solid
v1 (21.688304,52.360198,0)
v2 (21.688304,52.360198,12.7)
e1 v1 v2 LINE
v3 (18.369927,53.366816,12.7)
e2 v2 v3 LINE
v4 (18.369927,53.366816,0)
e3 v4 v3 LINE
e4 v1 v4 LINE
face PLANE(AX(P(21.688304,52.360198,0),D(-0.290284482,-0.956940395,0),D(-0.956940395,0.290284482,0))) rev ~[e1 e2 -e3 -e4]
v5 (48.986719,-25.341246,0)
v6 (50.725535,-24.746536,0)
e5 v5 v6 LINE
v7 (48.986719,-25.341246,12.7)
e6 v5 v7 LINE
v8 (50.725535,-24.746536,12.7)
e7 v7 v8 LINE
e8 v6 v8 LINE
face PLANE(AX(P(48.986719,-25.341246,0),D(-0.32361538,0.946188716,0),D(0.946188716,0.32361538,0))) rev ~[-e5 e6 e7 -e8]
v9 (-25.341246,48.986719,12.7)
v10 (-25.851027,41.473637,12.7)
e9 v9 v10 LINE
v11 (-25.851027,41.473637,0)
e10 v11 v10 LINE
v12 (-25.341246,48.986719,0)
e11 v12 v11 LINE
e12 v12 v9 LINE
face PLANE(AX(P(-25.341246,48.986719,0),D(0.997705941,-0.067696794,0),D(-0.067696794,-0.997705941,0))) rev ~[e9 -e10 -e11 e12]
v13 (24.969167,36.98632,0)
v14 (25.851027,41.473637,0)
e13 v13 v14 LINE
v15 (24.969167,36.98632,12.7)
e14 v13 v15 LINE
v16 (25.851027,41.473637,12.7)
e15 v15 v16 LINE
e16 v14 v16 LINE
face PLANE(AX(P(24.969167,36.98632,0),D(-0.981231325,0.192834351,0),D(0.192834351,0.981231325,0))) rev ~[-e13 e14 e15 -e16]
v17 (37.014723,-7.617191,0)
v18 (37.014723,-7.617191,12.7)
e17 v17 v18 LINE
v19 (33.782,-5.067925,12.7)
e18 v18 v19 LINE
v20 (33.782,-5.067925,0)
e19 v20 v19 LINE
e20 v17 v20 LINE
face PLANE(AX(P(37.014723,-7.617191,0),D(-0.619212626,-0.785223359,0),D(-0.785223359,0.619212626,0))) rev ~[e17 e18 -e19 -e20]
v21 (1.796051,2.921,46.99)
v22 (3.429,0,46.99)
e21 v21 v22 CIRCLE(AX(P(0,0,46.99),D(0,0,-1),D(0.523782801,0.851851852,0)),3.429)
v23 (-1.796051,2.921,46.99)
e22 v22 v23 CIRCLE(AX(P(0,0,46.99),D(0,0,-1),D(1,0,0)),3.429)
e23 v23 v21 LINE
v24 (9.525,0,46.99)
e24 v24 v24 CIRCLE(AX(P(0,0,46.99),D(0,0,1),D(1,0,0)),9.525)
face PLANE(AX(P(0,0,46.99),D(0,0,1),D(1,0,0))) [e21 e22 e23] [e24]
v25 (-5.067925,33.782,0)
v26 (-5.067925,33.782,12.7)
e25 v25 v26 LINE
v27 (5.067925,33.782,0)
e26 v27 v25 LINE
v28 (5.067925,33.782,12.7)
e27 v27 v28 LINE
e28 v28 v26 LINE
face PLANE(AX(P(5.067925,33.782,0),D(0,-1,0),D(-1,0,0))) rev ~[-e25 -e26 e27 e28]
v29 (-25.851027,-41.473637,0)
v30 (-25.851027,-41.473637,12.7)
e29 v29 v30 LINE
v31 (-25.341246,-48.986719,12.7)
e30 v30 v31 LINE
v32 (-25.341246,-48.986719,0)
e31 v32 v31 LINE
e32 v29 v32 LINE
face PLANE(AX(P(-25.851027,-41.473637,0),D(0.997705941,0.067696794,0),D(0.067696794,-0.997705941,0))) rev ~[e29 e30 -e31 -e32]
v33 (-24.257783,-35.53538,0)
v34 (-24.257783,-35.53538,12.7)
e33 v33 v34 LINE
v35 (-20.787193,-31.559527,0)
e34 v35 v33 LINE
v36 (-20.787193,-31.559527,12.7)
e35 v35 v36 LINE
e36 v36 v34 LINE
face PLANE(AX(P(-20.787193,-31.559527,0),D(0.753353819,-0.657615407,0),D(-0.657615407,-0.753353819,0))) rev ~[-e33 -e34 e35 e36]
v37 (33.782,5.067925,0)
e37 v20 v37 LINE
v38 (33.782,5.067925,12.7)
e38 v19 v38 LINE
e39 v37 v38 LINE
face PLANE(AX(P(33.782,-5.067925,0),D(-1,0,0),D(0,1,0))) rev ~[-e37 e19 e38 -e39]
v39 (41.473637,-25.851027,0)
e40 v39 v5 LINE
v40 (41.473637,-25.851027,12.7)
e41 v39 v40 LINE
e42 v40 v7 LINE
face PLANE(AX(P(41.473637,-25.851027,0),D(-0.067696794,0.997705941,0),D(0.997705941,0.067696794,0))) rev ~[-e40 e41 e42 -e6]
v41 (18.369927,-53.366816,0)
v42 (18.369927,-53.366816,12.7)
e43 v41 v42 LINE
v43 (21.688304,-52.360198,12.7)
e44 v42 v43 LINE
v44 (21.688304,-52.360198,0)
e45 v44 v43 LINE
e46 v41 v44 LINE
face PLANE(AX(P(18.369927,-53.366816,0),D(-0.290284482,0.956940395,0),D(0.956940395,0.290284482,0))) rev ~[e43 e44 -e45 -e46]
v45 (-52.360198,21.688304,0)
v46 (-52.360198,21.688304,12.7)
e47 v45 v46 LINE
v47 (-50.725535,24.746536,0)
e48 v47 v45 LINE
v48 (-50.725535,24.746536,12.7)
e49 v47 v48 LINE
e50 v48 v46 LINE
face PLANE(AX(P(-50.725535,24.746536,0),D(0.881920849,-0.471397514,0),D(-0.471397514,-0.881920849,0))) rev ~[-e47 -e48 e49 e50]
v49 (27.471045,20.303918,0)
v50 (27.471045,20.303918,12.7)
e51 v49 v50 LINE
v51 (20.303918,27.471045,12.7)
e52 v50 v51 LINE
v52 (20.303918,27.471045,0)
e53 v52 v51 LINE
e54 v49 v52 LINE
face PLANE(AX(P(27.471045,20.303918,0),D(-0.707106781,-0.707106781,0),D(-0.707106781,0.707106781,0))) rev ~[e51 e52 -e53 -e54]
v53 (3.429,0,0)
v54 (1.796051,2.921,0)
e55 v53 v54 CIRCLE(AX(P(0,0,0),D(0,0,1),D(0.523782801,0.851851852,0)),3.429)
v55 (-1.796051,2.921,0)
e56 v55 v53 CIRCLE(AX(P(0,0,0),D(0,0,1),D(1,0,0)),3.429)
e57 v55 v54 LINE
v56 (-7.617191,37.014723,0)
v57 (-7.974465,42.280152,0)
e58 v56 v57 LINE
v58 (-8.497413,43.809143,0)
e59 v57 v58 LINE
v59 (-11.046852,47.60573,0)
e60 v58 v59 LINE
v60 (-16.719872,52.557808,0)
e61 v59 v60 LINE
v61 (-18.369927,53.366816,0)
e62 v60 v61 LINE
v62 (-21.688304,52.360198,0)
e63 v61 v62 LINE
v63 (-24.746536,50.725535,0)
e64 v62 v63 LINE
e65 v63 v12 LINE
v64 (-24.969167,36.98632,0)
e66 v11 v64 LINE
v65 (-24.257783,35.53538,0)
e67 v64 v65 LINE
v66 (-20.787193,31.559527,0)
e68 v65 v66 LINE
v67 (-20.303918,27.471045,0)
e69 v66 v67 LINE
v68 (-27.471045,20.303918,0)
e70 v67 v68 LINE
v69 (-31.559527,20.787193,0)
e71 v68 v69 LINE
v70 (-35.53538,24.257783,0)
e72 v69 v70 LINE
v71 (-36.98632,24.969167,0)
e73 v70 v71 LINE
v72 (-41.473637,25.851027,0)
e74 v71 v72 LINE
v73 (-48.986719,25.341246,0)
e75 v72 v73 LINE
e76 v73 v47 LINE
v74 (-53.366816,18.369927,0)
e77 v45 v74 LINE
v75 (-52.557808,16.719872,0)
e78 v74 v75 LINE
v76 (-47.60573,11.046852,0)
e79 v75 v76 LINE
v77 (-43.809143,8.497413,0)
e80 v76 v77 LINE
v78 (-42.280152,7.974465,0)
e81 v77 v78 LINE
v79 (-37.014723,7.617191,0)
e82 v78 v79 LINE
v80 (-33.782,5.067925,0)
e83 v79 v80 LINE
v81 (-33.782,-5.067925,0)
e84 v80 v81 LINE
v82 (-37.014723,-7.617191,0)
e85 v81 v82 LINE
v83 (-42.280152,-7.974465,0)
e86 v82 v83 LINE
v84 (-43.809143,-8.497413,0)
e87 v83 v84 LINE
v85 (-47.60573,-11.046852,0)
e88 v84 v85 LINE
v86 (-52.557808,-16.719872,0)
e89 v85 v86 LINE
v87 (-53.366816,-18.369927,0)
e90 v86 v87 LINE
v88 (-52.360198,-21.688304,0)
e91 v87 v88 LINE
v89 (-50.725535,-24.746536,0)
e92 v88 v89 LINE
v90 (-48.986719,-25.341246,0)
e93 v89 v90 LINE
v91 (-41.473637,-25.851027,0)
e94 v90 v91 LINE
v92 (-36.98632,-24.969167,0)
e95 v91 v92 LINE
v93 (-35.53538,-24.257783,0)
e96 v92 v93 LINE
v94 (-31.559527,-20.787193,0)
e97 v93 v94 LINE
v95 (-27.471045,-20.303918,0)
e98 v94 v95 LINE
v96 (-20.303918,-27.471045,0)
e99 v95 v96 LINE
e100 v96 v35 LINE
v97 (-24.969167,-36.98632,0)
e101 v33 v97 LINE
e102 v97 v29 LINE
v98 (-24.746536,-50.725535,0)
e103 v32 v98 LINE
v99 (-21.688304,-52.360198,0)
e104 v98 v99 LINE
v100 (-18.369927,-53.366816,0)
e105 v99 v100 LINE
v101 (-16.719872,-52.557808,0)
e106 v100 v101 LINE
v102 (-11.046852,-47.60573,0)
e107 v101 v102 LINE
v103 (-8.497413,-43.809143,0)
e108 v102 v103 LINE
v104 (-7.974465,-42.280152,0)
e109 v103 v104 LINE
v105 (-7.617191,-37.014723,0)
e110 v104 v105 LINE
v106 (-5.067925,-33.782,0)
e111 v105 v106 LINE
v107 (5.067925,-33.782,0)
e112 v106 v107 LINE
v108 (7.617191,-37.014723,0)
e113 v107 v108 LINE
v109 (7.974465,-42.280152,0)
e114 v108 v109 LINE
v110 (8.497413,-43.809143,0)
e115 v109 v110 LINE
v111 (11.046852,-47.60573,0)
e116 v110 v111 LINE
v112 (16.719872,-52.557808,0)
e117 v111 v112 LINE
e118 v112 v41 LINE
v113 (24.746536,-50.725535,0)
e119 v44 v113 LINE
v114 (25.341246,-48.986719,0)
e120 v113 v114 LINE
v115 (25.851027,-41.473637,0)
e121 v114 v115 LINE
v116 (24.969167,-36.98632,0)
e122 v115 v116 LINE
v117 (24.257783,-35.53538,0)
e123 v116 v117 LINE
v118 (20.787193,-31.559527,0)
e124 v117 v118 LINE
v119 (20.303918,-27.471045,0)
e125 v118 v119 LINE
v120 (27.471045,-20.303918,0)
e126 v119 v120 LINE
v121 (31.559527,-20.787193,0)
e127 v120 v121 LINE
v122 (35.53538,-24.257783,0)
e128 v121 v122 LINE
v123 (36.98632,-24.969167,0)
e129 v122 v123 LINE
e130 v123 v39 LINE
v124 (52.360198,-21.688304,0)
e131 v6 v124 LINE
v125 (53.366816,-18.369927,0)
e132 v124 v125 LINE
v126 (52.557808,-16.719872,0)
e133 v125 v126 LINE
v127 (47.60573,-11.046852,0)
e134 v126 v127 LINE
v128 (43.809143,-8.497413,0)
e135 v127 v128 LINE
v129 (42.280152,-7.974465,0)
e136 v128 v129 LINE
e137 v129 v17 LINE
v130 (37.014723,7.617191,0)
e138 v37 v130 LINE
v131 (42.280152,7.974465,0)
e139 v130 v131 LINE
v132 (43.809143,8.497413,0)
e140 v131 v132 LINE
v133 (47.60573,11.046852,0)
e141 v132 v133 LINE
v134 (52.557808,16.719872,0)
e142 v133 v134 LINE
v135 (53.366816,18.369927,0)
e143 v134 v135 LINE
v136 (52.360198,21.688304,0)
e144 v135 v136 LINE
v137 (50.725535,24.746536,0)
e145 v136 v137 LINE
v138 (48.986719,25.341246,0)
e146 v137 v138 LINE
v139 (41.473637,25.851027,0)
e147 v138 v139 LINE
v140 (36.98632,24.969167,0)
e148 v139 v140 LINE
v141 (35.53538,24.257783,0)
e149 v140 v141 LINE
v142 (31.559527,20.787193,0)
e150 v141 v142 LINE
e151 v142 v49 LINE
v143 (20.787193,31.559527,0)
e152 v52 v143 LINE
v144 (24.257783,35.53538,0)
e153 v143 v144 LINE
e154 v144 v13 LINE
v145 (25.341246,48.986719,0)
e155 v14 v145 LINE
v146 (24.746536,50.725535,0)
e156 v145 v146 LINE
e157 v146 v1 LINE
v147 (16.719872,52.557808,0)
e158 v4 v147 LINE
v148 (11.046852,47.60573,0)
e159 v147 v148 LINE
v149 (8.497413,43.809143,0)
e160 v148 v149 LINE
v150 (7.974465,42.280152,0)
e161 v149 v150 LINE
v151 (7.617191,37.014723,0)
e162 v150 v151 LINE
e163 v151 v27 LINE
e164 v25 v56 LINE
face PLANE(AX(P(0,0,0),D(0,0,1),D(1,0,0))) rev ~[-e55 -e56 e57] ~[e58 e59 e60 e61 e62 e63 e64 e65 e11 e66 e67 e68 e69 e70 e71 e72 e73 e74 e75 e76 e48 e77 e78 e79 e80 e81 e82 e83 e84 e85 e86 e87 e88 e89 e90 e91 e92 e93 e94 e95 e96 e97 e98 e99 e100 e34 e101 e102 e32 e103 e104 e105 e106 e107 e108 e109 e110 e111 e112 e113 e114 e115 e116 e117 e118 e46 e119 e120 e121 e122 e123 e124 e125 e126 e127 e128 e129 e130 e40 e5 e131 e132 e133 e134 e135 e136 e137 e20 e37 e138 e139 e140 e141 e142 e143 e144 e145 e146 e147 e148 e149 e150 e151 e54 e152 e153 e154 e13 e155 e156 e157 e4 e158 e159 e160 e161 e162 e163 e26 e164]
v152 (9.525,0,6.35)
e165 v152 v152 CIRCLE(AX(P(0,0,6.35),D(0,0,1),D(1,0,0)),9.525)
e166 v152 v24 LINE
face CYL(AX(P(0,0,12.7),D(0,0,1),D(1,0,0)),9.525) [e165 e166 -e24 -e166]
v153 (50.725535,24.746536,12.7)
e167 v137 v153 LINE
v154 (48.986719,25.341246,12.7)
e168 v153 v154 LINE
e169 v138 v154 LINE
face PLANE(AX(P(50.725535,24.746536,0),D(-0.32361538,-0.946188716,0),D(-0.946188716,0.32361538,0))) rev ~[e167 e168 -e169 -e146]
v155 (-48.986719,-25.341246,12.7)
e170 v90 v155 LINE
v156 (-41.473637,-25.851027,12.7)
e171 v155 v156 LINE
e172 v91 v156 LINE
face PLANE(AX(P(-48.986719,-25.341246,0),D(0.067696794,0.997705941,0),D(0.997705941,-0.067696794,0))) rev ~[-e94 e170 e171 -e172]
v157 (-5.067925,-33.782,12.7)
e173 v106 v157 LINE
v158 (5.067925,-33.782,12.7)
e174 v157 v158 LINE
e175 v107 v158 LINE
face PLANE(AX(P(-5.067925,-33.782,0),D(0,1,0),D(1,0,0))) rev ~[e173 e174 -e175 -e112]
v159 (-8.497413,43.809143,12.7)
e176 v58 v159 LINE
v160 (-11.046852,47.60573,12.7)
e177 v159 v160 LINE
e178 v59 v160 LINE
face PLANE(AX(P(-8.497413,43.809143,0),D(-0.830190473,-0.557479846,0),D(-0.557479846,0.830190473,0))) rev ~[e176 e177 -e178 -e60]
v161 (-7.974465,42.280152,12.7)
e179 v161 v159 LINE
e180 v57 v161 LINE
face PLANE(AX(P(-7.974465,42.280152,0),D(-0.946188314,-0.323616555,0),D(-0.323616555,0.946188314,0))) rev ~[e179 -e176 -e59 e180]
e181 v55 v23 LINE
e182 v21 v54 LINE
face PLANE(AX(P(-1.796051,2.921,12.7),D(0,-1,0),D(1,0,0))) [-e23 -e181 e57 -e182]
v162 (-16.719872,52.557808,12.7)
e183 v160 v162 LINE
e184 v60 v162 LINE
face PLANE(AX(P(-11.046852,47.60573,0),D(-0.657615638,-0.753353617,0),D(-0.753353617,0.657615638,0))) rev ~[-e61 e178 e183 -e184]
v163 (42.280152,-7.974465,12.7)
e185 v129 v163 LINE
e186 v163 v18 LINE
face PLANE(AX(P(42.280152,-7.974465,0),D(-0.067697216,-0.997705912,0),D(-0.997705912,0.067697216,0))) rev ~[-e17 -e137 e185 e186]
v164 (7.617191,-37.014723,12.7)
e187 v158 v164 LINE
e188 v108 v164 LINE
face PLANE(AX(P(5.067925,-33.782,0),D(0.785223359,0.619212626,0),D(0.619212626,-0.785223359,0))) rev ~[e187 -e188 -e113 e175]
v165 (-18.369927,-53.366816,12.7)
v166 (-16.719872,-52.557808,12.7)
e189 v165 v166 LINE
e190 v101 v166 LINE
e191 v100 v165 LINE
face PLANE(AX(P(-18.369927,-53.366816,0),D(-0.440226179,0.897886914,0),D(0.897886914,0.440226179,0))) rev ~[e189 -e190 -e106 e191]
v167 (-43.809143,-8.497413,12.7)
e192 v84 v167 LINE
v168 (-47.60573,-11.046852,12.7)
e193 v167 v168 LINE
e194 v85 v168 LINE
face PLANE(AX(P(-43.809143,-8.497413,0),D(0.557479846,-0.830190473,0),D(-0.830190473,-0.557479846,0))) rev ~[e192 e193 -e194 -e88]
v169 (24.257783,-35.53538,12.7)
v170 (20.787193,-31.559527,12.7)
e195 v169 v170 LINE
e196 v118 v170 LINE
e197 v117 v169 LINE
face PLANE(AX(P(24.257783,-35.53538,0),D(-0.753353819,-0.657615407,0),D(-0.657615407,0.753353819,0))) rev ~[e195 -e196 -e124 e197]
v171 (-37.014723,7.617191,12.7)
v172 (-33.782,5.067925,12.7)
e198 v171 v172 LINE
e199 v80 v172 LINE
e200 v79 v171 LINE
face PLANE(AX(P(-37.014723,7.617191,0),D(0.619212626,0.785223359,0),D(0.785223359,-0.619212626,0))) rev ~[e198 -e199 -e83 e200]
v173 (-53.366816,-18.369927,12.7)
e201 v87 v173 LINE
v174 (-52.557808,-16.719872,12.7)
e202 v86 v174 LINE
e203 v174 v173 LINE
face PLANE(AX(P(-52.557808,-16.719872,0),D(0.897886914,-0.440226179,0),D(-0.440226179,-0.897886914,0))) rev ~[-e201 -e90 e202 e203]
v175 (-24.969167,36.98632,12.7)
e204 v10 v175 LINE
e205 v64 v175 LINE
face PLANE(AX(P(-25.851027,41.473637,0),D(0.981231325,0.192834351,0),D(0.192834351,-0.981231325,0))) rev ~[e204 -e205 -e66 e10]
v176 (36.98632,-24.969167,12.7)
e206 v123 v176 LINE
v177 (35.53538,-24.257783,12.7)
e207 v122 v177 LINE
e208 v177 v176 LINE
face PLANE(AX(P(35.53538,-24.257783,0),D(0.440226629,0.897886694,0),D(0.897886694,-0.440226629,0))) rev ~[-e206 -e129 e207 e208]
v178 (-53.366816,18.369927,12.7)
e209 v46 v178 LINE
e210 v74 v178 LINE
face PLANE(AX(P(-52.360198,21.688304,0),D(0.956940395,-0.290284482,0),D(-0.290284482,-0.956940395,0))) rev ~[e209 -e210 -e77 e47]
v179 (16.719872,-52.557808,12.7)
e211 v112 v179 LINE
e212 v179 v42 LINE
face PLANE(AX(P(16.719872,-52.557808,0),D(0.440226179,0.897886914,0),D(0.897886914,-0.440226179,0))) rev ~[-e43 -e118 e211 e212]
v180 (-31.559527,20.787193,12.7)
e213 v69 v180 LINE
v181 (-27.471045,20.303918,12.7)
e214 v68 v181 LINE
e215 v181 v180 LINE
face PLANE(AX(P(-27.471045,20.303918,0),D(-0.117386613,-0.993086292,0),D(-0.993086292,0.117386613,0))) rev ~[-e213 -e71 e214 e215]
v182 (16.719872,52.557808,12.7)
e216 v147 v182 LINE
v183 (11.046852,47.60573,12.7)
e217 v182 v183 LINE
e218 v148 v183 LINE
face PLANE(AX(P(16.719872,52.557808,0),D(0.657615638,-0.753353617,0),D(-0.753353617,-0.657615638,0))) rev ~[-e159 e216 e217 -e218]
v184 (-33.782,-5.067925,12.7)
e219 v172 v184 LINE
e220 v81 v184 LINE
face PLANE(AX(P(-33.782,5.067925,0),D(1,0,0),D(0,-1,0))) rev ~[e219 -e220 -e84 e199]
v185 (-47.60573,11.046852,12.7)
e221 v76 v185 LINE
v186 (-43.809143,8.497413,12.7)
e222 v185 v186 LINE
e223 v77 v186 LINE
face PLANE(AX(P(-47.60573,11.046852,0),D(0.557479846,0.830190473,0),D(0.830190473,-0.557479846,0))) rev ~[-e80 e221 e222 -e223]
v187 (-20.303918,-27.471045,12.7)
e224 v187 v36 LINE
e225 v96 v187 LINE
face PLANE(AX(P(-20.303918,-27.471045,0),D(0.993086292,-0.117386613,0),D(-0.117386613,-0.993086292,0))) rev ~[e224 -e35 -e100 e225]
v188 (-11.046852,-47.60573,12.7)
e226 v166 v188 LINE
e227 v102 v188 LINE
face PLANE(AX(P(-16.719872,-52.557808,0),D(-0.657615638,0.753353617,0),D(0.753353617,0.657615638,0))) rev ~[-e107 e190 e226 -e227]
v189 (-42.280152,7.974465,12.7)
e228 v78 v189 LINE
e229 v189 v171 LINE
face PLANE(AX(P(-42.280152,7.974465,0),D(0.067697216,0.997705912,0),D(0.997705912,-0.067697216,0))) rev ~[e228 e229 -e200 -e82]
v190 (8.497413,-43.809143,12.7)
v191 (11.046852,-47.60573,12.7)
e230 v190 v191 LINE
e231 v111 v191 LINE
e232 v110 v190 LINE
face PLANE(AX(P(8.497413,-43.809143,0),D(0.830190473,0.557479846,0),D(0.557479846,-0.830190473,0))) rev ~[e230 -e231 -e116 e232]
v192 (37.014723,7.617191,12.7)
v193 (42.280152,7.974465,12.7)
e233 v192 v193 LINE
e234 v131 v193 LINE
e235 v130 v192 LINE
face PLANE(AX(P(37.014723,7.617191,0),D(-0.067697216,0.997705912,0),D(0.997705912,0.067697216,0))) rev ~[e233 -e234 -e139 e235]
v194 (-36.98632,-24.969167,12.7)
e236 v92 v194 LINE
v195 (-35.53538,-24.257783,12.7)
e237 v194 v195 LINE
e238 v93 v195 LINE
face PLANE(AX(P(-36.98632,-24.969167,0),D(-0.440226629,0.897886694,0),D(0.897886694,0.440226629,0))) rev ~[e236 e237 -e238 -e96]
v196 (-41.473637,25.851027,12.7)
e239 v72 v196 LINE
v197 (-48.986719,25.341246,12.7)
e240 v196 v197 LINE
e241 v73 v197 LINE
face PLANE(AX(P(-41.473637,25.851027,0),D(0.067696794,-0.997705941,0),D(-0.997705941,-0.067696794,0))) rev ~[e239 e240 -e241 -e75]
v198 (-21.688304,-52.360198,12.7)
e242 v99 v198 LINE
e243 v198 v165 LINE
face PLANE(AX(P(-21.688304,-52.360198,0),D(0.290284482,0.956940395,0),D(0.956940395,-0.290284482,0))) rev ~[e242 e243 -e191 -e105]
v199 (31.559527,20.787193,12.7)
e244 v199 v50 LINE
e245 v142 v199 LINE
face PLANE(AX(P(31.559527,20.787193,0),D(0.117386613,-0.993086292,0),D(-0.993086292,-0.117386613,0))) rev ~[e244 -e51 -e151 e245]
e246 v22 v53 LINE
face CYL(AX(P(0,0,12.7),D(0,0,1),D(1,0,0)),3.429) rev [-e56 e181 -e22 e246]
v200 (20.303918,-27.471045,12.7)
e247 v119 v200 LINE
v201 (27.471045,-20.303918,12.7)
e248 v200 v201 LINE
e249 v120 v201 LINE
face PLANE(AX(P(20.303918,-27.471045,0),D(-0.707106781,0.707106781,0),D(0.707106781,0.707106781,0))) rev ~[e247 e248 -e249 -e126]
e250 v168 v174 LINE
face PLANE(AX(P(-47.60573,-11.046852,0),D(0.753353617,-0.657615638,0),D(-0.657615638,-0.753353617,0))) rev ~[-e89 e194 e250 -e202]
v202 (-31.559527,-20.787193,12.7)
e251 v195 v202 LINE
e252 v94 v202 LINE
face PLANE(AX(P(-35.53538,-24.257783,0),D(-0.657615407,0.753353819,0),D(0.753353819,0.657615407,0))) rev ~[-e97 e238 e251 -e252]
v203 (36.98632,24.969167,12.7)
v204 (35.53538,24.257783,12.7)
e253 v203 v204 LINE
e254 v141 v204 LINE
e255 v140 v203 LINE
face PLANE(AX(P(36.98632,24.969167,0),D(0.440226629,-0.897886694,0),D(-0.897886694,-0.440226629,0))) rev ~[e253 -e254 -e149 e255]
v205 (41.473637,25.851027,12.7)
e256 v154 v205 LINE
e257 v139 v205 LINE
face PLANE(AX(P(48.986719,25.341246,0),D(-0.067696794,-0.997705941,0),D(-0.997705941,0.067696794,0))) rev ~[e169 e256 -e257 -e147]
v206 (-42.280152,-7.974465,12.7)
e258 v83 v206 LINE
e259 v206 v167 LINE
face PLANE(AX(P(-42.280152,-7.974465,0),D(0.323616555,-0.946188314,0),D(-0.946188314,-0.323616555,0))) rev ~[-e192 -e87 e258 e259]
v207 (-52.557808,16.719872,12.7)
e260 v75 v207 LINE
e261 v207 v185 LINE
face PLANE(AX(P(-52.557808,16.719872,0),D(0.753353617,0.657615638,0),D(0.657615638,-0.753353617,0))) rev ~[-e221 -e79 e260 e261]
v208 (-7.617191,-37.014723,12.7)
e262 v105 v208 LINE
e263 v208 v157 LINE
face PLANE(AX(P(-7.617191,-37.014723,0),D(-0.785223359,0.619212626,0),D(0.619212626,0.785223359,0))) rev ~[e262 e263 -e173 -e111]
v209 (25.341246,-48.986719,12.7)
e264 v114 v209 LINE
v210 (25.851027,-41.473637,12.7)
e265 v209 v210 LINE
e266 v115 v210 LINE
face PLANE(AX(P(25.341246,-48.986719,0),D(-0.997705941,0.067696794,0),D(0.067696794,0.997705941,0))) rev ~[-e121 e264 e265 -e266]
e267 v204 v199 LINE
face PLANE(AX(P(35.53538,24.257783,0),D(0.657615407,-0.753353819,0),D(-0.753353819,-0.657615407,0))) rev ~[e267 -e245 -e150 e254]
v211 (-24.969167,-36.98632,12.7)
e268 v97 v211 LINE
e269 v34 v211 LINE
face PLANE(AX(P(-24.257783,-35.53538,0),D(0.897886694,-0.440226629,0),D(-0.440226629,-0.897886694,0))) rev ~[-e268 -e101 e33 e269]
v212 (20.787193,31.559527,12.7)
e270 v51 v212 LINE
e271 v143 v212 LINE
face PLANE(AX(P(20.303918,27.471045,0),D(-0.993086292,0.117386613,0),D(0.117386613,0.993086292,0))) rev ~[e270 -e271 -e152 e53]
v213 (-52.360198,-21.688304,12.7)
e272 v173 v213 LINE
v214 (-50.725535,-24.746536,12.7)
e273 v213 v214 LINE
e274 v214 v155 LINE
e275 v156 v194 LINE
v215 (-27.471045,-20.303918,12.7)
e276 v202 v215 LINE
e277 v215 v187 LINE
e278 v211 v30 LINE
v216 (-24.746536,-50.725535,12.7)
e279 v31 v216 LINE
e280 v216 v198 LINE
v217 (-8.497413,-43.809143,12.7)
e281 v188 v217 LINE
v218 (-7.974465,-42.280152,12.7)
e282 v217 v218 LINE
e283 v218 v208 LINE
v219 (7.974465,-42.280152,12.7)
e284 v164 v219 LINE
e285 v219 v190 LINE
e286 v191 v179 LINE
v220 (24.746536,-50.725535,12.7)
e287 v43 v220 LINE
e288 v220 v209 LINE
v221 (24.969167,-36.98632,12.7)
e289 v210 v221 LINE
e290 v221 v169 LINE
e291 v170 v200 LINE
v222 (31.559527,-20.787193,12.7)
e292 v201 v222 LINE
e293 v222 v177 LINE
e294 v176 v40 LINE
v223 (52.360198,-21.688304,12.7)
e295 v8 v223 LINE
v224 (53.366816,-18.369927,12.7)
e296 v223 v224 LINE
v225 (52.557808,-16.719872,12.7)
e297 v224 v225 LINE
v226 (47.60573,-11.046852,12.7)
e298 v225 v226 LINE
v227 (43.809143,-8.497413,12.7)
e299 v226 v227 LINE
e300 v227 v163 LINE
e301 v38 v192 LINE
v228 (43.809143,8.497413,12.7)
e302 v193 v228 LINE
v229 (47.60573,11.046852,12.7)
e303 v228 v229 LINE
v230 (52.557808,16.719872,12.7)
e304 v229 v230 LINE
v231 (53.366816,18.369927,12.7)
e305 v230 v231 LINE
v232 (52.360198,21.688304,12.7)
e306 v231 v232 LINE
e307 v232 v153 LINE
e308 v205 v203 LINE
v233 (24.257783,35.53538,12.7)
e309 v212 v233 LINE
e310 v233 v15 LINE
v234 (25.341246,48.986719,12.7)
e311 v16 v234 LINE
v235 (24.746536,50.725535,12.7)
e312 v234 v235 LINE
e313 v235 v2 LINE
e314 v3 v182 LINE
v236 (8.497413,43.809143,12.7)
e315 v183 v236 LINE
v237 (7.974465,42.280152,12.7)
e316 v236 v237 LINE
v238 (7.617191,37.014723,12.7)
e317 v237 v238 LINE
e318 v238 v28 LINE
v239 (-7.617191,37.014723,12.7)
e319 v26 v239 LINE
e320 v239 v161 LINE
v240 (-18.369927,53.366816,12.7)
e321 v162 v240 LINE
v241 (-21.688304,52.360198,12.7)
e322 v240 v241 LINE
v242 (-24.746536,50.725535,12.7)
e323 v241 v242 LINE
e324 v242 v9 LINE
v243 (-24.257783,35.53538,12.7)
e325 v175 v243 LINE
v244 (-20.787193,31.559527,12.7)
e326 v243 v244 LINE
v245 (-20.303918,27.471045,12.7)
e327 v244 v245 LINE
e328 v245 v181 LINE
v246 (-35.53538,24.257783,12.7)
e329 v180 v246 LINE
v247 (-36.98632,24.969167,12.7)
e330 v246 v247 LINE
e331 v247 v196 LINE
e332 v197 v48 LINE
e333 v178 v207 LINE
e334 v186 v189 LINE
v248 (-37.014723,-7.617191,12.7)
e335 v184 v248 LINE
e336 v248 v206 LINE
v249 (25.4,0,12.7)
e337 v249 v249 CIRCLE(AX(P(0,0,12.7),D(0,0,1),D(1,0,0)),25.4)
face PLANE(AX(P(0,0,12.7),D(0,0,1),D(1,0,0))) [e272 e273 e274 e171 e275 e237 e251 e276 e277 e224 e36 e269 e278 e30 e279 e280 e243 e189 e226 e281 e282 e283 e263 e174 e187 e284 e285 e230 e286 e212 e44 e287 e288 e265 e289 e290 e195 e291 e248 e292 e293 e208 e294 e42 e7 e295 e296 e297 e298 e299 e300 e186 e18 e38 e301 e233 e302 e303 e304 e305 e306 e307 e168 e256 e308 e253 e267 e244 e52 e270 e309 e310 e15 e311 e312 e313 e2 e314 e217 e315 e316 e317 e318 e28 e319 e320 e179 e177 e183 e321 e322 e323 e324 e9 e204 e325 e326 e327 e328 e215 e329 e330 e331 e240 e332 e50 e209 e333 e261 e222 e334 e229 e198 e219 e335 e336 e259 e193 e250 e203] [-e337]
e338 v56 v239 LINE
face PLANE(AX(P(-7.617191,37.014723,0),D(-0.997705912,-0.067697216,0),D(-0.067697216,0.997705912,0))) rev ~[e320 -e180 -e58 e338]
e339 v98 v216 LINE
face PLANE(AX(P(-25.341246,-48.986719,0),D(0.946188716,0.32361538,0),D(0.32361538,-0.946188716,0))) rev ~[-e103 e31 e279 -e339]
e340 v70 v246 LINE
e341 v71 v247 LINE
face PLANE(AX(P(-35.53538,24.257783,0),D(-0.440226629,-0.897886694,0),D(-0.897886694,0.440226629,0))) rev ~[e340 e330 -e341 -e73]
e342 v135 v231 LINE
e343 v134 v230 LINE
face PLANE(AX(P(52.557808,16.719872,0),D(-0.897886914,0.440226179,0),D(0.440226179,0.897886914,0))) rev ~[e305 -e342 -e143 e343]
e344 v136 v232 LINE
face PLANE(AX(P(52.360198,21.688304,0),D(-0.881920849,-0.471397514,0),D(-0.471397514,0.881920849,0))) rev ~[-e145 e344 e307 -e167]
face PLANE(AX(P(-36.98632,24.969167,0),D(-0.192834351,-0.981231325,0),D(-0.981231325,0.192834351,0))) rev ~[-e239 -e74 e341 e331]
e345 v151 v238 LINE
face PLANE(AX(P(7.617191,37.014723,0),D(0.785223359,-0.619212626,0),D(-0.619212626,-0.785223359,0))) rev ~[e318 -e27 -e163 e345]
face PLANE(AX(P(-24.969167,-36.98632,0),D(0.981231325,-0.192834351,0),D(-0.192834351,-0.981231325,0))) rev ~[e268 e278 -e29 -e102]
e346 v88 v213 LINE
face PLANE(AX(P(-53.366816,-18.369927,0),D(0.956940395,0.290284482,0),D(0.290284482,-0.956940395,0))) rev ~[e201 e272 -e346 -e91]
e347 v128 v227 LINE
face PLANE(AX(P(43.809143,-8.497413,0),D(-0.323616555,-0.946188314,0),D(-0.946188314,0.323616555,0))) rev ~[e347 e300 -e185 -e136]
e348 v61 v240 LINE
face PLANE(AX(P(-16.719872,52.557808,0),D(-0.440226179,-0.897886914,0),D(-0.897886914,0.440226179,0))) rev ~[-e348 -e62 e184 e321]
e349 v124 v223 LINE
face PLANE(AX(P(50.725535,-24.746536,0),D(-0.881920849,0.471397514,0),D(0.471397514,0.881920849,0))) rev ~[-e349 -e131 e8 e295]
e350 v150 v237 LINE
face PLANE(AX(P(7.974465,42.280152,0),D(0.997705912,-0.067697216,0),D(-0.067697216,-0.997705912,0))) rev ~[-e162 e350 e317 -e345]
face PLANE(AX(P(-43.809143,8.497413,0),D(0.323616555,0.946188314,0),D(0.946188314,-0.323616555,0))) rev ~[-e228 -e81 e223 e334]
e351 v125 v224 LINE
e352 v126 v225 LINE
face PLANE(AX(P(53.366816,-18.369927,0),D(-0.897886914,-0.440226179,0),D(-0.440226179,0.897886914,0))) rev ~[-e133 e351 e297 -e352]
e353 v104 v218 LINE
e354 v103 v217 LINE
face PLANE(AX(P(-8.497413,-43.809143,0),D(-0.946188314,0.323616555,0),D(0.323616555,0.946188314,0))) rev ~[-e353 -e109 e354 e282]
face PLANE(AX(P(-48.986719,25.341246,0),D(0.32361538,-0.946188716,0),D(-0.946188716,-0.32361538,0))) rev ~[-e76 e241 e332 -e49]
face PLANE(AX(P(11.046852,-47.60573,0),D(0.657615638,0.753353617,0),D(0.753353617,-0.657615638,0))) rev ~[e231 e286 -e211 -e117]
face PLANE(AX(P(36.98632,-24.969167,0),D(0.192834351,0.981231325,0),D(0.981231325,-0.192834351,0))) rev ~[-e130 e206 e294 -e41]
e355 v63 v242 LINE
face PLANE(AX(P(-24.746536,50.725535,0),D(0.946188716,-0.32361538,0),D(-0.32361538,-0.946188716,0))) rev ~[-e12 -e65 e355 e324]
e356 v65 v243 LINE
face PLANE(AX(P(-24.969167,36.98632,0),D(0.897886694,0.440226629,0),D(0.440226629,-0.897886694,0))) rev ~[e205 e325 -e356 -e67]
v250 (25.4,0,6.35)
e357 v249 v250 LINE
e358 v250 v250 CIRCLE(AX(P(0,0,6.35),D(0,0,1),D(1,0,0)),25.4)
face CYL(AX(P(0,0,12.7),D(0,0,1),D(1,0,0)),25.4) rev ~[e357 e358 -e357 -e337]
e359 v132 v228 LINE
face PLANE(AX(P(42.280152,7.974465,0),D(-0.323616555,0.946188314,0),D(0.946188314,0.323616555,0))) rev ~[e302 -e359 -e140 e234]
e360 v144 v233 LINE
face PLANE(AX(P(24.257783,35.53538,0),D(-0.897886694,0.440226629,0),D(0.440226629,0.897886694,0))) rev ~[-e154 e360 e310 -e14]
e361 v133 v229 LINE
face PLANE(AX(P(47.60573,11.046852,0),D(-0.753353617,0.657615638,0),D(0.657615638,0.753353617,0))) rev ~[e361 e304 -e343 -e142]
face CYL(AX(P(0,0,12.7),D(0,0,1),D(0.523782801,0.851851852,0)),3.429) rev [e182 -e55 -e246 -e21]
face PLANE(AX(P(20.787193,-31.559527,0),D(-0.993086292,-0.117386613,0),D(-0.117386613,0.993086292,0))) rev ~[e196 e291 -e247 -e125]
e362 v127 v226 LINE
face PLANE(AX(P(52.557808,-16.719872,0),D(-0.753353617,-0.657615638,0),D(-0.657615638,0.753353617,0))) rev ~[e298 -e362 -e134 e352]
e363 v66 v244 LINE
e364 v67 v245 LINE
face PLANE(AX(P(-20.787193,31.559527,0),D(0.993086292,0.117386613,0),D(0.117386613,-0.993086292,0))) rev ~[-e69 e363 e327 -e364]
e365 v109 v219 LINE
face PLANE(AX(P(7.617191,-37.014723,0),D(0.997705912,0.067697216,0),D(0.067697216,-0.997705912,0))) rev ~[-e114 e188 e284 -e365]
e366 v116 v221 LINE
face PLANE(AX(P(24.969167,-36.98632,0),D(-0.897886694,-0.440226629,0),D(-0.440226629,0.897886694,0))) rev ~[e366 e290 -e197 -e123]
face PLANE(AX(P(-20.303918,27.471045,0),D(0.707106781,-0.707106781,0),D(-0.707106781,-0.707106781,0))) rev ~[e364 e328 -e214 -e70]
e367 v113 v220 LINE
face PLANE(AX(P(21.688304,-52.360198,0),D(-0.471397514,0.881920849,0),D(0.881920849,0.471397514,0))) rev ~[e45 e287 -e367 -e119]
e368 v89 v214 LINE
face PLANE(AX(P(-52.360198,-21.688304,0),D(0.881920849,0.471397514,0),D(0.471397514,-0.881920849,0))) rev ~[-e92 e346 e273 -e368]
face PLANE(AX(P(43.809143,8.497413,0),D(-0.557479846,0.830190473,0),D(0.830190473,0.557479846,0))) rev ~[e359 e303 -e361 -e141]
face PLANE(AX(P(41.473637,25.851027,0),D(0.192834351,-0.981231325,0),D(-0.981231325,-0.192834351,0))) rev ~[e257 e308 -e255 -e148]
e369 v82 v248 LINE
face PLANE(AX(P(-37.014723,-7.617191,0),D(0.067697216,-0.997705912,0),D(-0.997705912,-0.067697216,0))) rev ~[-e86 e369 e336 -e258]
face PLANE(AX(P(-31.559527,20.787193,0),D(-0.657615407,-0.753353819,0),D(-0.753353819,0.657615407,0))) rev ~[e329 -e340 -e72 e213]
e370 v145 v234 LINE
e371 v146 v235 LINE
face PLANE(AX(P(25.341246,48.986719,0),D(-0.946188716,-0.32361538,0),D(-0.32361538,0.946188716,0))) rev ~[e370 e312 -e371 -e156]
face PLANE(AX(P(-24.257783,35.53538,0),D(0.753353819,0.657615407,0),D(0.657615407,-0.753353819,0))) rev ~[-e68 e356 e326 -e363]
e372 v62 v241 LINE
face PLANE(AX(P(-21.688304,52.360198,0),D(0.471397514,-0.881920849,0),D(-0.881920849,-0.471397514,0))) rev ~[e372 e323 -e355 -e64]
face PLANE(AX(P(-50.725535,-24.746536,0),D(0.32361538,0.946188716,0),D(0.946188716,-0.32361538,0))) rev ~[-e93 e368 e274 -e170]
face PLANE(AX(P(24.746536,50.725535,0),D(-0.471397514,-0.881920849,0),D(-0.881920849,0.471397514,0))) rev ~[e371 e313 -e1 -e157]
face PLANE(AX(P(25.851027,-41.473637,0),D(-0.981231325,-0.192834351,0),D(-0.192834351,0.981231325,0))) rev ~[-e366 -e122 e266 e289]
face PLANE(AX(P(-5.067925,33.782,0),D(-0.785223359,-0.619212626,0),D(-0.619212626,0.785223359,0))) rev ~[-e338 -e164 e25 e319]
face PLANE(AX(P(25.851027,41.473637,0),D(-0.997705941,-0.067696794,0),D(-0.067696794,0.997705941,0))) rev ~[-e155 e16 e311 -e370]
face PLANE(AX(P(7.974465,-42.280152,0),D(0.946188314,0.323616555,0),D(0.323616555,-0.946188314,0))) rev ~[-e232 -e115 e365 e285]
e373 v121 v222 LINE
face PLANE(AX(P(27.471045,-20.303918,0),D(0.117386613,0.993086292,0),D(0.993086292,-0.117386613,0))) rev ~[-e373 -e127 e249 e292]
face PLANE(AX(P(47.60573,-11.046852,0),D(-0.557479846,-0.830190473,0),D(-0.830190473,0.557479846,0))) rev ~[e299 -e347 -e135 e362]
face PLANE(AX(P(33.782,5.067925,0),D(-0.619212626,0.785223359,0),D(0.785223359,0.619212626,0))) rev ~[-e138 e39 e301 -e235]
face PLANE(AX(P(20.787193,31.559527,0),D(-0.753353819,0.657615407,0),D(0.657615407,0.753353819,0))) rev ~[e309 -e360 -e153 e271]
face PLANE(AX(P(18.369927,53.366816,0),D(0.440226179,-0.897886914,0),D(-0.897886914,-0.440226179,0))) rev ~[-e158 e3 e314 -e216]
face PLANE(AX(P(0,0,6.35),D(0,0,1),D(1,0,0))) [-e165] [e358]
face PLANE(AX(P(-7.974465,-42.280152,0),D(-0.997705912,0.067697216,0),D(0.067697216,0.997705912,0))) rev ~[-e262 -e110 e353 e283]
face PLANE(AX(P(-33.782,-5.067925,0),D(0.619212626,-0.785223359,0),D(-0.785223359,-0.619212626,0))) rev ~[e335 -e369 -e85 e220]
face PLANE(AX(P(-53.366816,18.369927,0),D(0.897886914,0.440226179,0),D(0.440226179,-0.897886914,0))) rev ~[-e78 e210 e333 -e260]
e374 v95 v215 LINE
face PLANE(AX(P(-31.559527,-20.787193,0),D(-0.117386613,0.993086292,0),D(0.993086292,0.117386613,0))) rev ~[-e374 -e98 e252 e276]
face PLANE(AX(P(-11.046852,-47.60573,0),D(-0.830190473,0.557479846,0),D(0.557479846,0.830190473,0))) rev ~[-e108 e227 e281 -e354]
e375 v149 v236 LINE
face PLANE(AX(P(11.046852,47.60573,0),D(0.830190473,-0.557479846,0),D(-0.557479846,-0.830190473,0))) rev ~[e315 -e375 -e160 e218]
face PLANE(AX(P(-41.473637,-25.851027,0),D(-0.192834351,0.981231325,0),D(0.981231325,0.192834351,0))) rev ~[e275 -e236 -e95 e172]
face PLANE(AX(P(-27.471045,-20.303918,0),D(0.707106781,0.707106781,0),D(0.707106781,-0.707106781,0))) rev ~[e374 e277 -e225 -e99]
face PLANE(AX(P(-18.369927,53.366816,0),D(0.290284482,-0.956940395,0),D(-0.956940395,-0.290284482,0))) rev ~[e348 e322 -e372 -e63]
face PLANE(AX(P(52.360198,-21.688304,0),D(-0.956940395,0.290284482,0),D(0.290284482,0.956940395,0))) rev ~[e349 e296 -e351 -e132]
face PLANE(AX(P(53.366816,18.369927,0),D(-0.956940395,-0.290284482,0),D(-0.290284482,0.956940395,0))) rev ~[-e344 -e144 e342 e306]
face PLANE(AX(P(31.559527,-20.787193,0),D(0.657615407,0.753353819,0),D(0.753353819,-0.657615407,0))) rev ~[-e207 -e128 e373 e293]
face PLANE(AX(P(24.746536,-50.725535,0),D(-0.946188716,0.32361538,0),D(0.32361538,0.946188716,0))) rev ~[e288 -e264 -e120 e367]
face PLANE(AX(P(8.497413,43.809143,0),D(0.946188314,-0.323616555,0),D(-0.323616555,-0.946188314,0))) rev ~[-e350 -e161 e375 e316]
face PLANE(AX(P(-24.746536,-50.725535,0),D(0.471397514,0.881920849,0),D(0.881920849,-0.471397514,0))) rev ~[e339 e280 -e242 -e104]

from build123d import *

# Parameters (mm, degrees)
F1_DEPTH = 12.7
F2_R     = 9.525
F3_DEPTH = 34.29
F4_DEPTH = 25.4
F2_R_2   = 25.4
F5_DEPTH = 6.35


with BuildPart() as f1:
    # F0 (on Top) → F1 (new body)
    with BuildSketch(Plane.XY):
        Polygon((-48.986719159, 25.3412460777), (-50.7255351294, 24.7465363945), (-52.3601977854, 21.688304154), (-53.366815822, 18.3699267661), (-52.5578082129, 16.719871907), (-47.6057296253, 11.0468524364), (-43.80914346, 8.4974130761), (-42.2801519731, 7.9744654227), (-37.0147232049, 7.6171909331), (-33.782, 5.0679251692), (-33.782, -5.0679251692), (-37.0147232049, -7.6171909331), (-42.2801519731, -7.9744654227), (-43.80914346, -8.4974130761), (-47.6057296253, -11.0468524364), (-52.5578082129, -16.719871907), (-53.366815822, -18.3699267661), (-52.3601977854, -21.688304154), (-50.7255351294, -24.7465363945), (-48.986719159, -25.3412460777), (-41.4736370284, -25.8510271212), (-36.9863201834, -24.9691669416), (-35.5353802528, -24.2577827562), (-31.559527, -20.7871925925), (-27.4710453735, -20.303918365), (-20.303918365, -27.4710453735), (-20.7871925925, -31.559527), (-24.2577827562, -35.5353802528), (-24.9691669416, -36.9863201834), (-25.8510271212, -41.4736370284), (-25.3412460777, -48.986719159), (-24.7465363945, -50.7255351294), (-21.688304154, -52.3601977854), (-18.3699267661, -53.366815822), (-16.719871907, -52.5578082129), (-11.0468524364, -47.6057296253), (-8.4974130761, -43.80914346), (-7.9744654227, -42.2801519731), (-7.6171909331, -37.0147232049), (-5.0679251692, -33.782), (5.0679251692, -33.782), (7.6171909331, -37.0147232049), (7.9744654227, -42.2801519731), (8.4974130761, -43.80914346), (11.0468524364, -47.6057296253), (16.719871907, -52.5578082129), (18.3699267661, -53.366815822), (21.688304154, -52.3601977854), (24.7465363945, -50.7255351294), (25.3412460777, -48.986719159), (25.8510271212, -41.4736370284), (24.9691669416, -36.9863201834), (24.2577827562, -35.5353802528), (20.7871925925, -31.559527), (20.303918365, -27.4710453735), (27.4710453735, -20.303918365), (31.559527, -20.7871925925), (35.5353802528, -24.2577827562), (36.9863201834, -24.9691669416), (41.4736370284, -25.8510271212), (48.986719159, -25.3412460777), (50.7255351294, -24.7465363945), (52.3601977854, -21.688304154), (53.366815822, -18.3699267661), (52.5578082129, -16.719871907), (47.6057296253, -11.0468524364), (43.80914346, -8.4974130761), (42.2801519731, -7.9744654227), (37.0147232049, -7.6171909331), (33.782, -5.0679251692), (33.782, 5.0679251692), (37.0147232049, 7.6171909331), (42.2801519731, 7.9744654227), (43.80914346, 8.4974130761), (47.6057296253, 11.0468524364), (52.5578082129, 16.719871907), (53.366815822, 18.3699267661), (52.3601977854, 21.688304154), (50.7255351294, 24.7465363945), (48.986719159, 25.3412460777), (41.4736370284, 25.8510271212), (36.9863201834, 24.9691669416), (35.5353802528, 24.2577827562), (31.559527, 20.7871925925), (27.4710453735, 20.303918365), (20.303918365, 27.4710453735), (20.7871925925, 31.559527), (24.2577827562, 35.5353802528), (24.9691669416, 36.9863201834), (25.8510271212, 41.4736370284), (25.3412460777, 48.986719159), (24.7465363945, 50.7255351294), (21.688304154, 52.3601977854), (18.3699267661, 53.366815822), (16.719871907, 52.5578082129), (11.0468524364, 47.6057296253), (8.4974130761, 43.80914346), (7.9744654227, 42.2801519731), (7.6171909331, 37.0147232049), (5.0679251692, 33.782), (-5.0679251692, 33.782), (-7.6171909331, 37.0147232049), (-7.9744654227, 42.2801519731), (-8.4974130761, 43.80914346), (-11.0468524364, 47.6057296253), (-16.719871907, 52.5578082129), (-18.3699267661, 53.366815822), (-21.688304154, 52.3601977854), (-24.7465363945, 50.7255351294), (-25.3412460777, 48.986719159), (-25.8510271212, 41.4736370284), (-24.9691669416, 36.9863201834), (-24.2577827562, 35.5353802528), (-20.7871925925, 31.559527), (-20.303918365, 27.4710453735), (-27.4710453735, 20.303918365), (-31.559527, 20.7871925925), (-35.5353802528, 24.2577827562), (-36.9863201834, 24.9691669416), (-41.4736370284, 25.8510271212), align=None)
        Polygon((-6.457554456, 6.1279886028), (-5.0423575535, 7.3366771559), (-3.4067913067, 8.2247200336), (-1.622328418, 8.7533028893), (0.2330374214, 8.8993240645), (2.0782189459, 8.6564005578), (3.8325695574, 8.0351529003), (5.4194220185, 7.0627288788), (6.7694179402, 5.7816284228), (7.8235568446, 4.247847459), (8.5357689507, 2.5284119549), (8.8749315621, 0.6984712932), (8.8262133252, -1.1619911548), (8.3917463583, -2.9716744665), (7.5905194232, -4.6514766054), (6.457554456, -6.1279886028), (5.0423575535, -7.3366771559), (3.4067913067, -8.2247200336), (1.622328418, -8.7533028893), (-0.2330374214, -8.8993240645), (-2.0782189459, -8.6564005578), (-3.8325695574, -8.0351529003), (-5.4194220185, -7.0627288788), (-6.7694179402, -5.7816284228), (-7.8235568446, -4.247847459), (-8.5357689507, -2.5284119549), (-8.8749315621, -0.6984712932), (-8.8262133252, 1.1619911548), (-8.3917463583, 2.9716744665), (-7.5905194232, 4.6514766054), align=None, mode=Mode.SUBTRACT)
        Polygon((-3.4067913067, 8.2247200336), (-5.0423575535, 7.3366771559), (-6.457554456, 6.1279886028), (-7.5905194232, 4.6514766054), (-8.3917463583, 2.9716744665), (-8.8262133252, 1.1619911548), (-8.8749315621, -0.6984712932), (-8.5357689507, -2.5284119549), (-7.8235568446, -4.247847459), (-6.7694179402, -5.7816284228), (-5.4194220185, -7.0627288788), (-3.8325695574, -8.0351529003), (-2.0782189459, -8.6564005578), (-0.2330374214, -8.8993240645), (1.622328418, -8.7533028893), (3.4067913067, -8.2247200336), (5.0423575535, -7.3366771559), (6.457554456, -6.1279886028), (7.5905194232, -4.6514766054), (8.3917463583, -2.9716744665), (8.8262133252, -1.1619911548), (8.8749315621, 0.6984712932), (8.5357689507, 2.5284119549), (7.8235568446, 4.247847459), (6.7694179402, 5.7816284228), (5.4194220185, 7.0627288788), (3.8325695574, 8.0351529003), (2.0782189459, 8.6564005578), (0.2330374214, 8.8993240645), (-1.622328418, 8.7533028893), align=None)
    extrude(amount=F1_DEPTH)

    # F2 (on face) → F3 (join)
    with BuildSketch(Plane.XY.offset(12.7)):
        Circle(F2_R)
        with BuildLine():
            ThreePointArc((1.7960512242, 2.921), (2.9930503377, 1.6732276223), (3.429, 0))
            ThreePointArc((3.429, 0), (-1.6732276223, -2.9930503377), (-1.7960512242, 2.921))
            ThreePointArc((-1.7960512242, 2.921), (0, 3.429), (1.7960512242, 2.921))
        make_face(mode=Mode.SUBTRACT)
        with BuildLine():
            Line((-1.7960512242, 2.921), (1.7960512242, 2.921))
            ThreePointArc((1.7960512242, 2.921), (0, 3.429), (-1.7960512242, 2.921))
        make_face()
    extrude(amount=F3_DEPTH)

    # F4 (cut): a face of the model
    f4_faces = [f1.faces().sort_by_distance(p)[0] for p in [
        (0, -0.108182678, 12.7),
    ]]
    extrude(f4_faces, amount=-F4_DEPTH, mode=Mode.SUBTRACT)

    # F2 (on face) → F5 (cut)
    with BuildSketch(Plane.XY.offset(12.7)):
        Circle(F2_R_2)
        Circle(F2_R, mode=Mode.SUBTRACT)
    extrude(amount=-F5_DEPTH, mode=Mode.SUBTRACT)


solid = f1.part
